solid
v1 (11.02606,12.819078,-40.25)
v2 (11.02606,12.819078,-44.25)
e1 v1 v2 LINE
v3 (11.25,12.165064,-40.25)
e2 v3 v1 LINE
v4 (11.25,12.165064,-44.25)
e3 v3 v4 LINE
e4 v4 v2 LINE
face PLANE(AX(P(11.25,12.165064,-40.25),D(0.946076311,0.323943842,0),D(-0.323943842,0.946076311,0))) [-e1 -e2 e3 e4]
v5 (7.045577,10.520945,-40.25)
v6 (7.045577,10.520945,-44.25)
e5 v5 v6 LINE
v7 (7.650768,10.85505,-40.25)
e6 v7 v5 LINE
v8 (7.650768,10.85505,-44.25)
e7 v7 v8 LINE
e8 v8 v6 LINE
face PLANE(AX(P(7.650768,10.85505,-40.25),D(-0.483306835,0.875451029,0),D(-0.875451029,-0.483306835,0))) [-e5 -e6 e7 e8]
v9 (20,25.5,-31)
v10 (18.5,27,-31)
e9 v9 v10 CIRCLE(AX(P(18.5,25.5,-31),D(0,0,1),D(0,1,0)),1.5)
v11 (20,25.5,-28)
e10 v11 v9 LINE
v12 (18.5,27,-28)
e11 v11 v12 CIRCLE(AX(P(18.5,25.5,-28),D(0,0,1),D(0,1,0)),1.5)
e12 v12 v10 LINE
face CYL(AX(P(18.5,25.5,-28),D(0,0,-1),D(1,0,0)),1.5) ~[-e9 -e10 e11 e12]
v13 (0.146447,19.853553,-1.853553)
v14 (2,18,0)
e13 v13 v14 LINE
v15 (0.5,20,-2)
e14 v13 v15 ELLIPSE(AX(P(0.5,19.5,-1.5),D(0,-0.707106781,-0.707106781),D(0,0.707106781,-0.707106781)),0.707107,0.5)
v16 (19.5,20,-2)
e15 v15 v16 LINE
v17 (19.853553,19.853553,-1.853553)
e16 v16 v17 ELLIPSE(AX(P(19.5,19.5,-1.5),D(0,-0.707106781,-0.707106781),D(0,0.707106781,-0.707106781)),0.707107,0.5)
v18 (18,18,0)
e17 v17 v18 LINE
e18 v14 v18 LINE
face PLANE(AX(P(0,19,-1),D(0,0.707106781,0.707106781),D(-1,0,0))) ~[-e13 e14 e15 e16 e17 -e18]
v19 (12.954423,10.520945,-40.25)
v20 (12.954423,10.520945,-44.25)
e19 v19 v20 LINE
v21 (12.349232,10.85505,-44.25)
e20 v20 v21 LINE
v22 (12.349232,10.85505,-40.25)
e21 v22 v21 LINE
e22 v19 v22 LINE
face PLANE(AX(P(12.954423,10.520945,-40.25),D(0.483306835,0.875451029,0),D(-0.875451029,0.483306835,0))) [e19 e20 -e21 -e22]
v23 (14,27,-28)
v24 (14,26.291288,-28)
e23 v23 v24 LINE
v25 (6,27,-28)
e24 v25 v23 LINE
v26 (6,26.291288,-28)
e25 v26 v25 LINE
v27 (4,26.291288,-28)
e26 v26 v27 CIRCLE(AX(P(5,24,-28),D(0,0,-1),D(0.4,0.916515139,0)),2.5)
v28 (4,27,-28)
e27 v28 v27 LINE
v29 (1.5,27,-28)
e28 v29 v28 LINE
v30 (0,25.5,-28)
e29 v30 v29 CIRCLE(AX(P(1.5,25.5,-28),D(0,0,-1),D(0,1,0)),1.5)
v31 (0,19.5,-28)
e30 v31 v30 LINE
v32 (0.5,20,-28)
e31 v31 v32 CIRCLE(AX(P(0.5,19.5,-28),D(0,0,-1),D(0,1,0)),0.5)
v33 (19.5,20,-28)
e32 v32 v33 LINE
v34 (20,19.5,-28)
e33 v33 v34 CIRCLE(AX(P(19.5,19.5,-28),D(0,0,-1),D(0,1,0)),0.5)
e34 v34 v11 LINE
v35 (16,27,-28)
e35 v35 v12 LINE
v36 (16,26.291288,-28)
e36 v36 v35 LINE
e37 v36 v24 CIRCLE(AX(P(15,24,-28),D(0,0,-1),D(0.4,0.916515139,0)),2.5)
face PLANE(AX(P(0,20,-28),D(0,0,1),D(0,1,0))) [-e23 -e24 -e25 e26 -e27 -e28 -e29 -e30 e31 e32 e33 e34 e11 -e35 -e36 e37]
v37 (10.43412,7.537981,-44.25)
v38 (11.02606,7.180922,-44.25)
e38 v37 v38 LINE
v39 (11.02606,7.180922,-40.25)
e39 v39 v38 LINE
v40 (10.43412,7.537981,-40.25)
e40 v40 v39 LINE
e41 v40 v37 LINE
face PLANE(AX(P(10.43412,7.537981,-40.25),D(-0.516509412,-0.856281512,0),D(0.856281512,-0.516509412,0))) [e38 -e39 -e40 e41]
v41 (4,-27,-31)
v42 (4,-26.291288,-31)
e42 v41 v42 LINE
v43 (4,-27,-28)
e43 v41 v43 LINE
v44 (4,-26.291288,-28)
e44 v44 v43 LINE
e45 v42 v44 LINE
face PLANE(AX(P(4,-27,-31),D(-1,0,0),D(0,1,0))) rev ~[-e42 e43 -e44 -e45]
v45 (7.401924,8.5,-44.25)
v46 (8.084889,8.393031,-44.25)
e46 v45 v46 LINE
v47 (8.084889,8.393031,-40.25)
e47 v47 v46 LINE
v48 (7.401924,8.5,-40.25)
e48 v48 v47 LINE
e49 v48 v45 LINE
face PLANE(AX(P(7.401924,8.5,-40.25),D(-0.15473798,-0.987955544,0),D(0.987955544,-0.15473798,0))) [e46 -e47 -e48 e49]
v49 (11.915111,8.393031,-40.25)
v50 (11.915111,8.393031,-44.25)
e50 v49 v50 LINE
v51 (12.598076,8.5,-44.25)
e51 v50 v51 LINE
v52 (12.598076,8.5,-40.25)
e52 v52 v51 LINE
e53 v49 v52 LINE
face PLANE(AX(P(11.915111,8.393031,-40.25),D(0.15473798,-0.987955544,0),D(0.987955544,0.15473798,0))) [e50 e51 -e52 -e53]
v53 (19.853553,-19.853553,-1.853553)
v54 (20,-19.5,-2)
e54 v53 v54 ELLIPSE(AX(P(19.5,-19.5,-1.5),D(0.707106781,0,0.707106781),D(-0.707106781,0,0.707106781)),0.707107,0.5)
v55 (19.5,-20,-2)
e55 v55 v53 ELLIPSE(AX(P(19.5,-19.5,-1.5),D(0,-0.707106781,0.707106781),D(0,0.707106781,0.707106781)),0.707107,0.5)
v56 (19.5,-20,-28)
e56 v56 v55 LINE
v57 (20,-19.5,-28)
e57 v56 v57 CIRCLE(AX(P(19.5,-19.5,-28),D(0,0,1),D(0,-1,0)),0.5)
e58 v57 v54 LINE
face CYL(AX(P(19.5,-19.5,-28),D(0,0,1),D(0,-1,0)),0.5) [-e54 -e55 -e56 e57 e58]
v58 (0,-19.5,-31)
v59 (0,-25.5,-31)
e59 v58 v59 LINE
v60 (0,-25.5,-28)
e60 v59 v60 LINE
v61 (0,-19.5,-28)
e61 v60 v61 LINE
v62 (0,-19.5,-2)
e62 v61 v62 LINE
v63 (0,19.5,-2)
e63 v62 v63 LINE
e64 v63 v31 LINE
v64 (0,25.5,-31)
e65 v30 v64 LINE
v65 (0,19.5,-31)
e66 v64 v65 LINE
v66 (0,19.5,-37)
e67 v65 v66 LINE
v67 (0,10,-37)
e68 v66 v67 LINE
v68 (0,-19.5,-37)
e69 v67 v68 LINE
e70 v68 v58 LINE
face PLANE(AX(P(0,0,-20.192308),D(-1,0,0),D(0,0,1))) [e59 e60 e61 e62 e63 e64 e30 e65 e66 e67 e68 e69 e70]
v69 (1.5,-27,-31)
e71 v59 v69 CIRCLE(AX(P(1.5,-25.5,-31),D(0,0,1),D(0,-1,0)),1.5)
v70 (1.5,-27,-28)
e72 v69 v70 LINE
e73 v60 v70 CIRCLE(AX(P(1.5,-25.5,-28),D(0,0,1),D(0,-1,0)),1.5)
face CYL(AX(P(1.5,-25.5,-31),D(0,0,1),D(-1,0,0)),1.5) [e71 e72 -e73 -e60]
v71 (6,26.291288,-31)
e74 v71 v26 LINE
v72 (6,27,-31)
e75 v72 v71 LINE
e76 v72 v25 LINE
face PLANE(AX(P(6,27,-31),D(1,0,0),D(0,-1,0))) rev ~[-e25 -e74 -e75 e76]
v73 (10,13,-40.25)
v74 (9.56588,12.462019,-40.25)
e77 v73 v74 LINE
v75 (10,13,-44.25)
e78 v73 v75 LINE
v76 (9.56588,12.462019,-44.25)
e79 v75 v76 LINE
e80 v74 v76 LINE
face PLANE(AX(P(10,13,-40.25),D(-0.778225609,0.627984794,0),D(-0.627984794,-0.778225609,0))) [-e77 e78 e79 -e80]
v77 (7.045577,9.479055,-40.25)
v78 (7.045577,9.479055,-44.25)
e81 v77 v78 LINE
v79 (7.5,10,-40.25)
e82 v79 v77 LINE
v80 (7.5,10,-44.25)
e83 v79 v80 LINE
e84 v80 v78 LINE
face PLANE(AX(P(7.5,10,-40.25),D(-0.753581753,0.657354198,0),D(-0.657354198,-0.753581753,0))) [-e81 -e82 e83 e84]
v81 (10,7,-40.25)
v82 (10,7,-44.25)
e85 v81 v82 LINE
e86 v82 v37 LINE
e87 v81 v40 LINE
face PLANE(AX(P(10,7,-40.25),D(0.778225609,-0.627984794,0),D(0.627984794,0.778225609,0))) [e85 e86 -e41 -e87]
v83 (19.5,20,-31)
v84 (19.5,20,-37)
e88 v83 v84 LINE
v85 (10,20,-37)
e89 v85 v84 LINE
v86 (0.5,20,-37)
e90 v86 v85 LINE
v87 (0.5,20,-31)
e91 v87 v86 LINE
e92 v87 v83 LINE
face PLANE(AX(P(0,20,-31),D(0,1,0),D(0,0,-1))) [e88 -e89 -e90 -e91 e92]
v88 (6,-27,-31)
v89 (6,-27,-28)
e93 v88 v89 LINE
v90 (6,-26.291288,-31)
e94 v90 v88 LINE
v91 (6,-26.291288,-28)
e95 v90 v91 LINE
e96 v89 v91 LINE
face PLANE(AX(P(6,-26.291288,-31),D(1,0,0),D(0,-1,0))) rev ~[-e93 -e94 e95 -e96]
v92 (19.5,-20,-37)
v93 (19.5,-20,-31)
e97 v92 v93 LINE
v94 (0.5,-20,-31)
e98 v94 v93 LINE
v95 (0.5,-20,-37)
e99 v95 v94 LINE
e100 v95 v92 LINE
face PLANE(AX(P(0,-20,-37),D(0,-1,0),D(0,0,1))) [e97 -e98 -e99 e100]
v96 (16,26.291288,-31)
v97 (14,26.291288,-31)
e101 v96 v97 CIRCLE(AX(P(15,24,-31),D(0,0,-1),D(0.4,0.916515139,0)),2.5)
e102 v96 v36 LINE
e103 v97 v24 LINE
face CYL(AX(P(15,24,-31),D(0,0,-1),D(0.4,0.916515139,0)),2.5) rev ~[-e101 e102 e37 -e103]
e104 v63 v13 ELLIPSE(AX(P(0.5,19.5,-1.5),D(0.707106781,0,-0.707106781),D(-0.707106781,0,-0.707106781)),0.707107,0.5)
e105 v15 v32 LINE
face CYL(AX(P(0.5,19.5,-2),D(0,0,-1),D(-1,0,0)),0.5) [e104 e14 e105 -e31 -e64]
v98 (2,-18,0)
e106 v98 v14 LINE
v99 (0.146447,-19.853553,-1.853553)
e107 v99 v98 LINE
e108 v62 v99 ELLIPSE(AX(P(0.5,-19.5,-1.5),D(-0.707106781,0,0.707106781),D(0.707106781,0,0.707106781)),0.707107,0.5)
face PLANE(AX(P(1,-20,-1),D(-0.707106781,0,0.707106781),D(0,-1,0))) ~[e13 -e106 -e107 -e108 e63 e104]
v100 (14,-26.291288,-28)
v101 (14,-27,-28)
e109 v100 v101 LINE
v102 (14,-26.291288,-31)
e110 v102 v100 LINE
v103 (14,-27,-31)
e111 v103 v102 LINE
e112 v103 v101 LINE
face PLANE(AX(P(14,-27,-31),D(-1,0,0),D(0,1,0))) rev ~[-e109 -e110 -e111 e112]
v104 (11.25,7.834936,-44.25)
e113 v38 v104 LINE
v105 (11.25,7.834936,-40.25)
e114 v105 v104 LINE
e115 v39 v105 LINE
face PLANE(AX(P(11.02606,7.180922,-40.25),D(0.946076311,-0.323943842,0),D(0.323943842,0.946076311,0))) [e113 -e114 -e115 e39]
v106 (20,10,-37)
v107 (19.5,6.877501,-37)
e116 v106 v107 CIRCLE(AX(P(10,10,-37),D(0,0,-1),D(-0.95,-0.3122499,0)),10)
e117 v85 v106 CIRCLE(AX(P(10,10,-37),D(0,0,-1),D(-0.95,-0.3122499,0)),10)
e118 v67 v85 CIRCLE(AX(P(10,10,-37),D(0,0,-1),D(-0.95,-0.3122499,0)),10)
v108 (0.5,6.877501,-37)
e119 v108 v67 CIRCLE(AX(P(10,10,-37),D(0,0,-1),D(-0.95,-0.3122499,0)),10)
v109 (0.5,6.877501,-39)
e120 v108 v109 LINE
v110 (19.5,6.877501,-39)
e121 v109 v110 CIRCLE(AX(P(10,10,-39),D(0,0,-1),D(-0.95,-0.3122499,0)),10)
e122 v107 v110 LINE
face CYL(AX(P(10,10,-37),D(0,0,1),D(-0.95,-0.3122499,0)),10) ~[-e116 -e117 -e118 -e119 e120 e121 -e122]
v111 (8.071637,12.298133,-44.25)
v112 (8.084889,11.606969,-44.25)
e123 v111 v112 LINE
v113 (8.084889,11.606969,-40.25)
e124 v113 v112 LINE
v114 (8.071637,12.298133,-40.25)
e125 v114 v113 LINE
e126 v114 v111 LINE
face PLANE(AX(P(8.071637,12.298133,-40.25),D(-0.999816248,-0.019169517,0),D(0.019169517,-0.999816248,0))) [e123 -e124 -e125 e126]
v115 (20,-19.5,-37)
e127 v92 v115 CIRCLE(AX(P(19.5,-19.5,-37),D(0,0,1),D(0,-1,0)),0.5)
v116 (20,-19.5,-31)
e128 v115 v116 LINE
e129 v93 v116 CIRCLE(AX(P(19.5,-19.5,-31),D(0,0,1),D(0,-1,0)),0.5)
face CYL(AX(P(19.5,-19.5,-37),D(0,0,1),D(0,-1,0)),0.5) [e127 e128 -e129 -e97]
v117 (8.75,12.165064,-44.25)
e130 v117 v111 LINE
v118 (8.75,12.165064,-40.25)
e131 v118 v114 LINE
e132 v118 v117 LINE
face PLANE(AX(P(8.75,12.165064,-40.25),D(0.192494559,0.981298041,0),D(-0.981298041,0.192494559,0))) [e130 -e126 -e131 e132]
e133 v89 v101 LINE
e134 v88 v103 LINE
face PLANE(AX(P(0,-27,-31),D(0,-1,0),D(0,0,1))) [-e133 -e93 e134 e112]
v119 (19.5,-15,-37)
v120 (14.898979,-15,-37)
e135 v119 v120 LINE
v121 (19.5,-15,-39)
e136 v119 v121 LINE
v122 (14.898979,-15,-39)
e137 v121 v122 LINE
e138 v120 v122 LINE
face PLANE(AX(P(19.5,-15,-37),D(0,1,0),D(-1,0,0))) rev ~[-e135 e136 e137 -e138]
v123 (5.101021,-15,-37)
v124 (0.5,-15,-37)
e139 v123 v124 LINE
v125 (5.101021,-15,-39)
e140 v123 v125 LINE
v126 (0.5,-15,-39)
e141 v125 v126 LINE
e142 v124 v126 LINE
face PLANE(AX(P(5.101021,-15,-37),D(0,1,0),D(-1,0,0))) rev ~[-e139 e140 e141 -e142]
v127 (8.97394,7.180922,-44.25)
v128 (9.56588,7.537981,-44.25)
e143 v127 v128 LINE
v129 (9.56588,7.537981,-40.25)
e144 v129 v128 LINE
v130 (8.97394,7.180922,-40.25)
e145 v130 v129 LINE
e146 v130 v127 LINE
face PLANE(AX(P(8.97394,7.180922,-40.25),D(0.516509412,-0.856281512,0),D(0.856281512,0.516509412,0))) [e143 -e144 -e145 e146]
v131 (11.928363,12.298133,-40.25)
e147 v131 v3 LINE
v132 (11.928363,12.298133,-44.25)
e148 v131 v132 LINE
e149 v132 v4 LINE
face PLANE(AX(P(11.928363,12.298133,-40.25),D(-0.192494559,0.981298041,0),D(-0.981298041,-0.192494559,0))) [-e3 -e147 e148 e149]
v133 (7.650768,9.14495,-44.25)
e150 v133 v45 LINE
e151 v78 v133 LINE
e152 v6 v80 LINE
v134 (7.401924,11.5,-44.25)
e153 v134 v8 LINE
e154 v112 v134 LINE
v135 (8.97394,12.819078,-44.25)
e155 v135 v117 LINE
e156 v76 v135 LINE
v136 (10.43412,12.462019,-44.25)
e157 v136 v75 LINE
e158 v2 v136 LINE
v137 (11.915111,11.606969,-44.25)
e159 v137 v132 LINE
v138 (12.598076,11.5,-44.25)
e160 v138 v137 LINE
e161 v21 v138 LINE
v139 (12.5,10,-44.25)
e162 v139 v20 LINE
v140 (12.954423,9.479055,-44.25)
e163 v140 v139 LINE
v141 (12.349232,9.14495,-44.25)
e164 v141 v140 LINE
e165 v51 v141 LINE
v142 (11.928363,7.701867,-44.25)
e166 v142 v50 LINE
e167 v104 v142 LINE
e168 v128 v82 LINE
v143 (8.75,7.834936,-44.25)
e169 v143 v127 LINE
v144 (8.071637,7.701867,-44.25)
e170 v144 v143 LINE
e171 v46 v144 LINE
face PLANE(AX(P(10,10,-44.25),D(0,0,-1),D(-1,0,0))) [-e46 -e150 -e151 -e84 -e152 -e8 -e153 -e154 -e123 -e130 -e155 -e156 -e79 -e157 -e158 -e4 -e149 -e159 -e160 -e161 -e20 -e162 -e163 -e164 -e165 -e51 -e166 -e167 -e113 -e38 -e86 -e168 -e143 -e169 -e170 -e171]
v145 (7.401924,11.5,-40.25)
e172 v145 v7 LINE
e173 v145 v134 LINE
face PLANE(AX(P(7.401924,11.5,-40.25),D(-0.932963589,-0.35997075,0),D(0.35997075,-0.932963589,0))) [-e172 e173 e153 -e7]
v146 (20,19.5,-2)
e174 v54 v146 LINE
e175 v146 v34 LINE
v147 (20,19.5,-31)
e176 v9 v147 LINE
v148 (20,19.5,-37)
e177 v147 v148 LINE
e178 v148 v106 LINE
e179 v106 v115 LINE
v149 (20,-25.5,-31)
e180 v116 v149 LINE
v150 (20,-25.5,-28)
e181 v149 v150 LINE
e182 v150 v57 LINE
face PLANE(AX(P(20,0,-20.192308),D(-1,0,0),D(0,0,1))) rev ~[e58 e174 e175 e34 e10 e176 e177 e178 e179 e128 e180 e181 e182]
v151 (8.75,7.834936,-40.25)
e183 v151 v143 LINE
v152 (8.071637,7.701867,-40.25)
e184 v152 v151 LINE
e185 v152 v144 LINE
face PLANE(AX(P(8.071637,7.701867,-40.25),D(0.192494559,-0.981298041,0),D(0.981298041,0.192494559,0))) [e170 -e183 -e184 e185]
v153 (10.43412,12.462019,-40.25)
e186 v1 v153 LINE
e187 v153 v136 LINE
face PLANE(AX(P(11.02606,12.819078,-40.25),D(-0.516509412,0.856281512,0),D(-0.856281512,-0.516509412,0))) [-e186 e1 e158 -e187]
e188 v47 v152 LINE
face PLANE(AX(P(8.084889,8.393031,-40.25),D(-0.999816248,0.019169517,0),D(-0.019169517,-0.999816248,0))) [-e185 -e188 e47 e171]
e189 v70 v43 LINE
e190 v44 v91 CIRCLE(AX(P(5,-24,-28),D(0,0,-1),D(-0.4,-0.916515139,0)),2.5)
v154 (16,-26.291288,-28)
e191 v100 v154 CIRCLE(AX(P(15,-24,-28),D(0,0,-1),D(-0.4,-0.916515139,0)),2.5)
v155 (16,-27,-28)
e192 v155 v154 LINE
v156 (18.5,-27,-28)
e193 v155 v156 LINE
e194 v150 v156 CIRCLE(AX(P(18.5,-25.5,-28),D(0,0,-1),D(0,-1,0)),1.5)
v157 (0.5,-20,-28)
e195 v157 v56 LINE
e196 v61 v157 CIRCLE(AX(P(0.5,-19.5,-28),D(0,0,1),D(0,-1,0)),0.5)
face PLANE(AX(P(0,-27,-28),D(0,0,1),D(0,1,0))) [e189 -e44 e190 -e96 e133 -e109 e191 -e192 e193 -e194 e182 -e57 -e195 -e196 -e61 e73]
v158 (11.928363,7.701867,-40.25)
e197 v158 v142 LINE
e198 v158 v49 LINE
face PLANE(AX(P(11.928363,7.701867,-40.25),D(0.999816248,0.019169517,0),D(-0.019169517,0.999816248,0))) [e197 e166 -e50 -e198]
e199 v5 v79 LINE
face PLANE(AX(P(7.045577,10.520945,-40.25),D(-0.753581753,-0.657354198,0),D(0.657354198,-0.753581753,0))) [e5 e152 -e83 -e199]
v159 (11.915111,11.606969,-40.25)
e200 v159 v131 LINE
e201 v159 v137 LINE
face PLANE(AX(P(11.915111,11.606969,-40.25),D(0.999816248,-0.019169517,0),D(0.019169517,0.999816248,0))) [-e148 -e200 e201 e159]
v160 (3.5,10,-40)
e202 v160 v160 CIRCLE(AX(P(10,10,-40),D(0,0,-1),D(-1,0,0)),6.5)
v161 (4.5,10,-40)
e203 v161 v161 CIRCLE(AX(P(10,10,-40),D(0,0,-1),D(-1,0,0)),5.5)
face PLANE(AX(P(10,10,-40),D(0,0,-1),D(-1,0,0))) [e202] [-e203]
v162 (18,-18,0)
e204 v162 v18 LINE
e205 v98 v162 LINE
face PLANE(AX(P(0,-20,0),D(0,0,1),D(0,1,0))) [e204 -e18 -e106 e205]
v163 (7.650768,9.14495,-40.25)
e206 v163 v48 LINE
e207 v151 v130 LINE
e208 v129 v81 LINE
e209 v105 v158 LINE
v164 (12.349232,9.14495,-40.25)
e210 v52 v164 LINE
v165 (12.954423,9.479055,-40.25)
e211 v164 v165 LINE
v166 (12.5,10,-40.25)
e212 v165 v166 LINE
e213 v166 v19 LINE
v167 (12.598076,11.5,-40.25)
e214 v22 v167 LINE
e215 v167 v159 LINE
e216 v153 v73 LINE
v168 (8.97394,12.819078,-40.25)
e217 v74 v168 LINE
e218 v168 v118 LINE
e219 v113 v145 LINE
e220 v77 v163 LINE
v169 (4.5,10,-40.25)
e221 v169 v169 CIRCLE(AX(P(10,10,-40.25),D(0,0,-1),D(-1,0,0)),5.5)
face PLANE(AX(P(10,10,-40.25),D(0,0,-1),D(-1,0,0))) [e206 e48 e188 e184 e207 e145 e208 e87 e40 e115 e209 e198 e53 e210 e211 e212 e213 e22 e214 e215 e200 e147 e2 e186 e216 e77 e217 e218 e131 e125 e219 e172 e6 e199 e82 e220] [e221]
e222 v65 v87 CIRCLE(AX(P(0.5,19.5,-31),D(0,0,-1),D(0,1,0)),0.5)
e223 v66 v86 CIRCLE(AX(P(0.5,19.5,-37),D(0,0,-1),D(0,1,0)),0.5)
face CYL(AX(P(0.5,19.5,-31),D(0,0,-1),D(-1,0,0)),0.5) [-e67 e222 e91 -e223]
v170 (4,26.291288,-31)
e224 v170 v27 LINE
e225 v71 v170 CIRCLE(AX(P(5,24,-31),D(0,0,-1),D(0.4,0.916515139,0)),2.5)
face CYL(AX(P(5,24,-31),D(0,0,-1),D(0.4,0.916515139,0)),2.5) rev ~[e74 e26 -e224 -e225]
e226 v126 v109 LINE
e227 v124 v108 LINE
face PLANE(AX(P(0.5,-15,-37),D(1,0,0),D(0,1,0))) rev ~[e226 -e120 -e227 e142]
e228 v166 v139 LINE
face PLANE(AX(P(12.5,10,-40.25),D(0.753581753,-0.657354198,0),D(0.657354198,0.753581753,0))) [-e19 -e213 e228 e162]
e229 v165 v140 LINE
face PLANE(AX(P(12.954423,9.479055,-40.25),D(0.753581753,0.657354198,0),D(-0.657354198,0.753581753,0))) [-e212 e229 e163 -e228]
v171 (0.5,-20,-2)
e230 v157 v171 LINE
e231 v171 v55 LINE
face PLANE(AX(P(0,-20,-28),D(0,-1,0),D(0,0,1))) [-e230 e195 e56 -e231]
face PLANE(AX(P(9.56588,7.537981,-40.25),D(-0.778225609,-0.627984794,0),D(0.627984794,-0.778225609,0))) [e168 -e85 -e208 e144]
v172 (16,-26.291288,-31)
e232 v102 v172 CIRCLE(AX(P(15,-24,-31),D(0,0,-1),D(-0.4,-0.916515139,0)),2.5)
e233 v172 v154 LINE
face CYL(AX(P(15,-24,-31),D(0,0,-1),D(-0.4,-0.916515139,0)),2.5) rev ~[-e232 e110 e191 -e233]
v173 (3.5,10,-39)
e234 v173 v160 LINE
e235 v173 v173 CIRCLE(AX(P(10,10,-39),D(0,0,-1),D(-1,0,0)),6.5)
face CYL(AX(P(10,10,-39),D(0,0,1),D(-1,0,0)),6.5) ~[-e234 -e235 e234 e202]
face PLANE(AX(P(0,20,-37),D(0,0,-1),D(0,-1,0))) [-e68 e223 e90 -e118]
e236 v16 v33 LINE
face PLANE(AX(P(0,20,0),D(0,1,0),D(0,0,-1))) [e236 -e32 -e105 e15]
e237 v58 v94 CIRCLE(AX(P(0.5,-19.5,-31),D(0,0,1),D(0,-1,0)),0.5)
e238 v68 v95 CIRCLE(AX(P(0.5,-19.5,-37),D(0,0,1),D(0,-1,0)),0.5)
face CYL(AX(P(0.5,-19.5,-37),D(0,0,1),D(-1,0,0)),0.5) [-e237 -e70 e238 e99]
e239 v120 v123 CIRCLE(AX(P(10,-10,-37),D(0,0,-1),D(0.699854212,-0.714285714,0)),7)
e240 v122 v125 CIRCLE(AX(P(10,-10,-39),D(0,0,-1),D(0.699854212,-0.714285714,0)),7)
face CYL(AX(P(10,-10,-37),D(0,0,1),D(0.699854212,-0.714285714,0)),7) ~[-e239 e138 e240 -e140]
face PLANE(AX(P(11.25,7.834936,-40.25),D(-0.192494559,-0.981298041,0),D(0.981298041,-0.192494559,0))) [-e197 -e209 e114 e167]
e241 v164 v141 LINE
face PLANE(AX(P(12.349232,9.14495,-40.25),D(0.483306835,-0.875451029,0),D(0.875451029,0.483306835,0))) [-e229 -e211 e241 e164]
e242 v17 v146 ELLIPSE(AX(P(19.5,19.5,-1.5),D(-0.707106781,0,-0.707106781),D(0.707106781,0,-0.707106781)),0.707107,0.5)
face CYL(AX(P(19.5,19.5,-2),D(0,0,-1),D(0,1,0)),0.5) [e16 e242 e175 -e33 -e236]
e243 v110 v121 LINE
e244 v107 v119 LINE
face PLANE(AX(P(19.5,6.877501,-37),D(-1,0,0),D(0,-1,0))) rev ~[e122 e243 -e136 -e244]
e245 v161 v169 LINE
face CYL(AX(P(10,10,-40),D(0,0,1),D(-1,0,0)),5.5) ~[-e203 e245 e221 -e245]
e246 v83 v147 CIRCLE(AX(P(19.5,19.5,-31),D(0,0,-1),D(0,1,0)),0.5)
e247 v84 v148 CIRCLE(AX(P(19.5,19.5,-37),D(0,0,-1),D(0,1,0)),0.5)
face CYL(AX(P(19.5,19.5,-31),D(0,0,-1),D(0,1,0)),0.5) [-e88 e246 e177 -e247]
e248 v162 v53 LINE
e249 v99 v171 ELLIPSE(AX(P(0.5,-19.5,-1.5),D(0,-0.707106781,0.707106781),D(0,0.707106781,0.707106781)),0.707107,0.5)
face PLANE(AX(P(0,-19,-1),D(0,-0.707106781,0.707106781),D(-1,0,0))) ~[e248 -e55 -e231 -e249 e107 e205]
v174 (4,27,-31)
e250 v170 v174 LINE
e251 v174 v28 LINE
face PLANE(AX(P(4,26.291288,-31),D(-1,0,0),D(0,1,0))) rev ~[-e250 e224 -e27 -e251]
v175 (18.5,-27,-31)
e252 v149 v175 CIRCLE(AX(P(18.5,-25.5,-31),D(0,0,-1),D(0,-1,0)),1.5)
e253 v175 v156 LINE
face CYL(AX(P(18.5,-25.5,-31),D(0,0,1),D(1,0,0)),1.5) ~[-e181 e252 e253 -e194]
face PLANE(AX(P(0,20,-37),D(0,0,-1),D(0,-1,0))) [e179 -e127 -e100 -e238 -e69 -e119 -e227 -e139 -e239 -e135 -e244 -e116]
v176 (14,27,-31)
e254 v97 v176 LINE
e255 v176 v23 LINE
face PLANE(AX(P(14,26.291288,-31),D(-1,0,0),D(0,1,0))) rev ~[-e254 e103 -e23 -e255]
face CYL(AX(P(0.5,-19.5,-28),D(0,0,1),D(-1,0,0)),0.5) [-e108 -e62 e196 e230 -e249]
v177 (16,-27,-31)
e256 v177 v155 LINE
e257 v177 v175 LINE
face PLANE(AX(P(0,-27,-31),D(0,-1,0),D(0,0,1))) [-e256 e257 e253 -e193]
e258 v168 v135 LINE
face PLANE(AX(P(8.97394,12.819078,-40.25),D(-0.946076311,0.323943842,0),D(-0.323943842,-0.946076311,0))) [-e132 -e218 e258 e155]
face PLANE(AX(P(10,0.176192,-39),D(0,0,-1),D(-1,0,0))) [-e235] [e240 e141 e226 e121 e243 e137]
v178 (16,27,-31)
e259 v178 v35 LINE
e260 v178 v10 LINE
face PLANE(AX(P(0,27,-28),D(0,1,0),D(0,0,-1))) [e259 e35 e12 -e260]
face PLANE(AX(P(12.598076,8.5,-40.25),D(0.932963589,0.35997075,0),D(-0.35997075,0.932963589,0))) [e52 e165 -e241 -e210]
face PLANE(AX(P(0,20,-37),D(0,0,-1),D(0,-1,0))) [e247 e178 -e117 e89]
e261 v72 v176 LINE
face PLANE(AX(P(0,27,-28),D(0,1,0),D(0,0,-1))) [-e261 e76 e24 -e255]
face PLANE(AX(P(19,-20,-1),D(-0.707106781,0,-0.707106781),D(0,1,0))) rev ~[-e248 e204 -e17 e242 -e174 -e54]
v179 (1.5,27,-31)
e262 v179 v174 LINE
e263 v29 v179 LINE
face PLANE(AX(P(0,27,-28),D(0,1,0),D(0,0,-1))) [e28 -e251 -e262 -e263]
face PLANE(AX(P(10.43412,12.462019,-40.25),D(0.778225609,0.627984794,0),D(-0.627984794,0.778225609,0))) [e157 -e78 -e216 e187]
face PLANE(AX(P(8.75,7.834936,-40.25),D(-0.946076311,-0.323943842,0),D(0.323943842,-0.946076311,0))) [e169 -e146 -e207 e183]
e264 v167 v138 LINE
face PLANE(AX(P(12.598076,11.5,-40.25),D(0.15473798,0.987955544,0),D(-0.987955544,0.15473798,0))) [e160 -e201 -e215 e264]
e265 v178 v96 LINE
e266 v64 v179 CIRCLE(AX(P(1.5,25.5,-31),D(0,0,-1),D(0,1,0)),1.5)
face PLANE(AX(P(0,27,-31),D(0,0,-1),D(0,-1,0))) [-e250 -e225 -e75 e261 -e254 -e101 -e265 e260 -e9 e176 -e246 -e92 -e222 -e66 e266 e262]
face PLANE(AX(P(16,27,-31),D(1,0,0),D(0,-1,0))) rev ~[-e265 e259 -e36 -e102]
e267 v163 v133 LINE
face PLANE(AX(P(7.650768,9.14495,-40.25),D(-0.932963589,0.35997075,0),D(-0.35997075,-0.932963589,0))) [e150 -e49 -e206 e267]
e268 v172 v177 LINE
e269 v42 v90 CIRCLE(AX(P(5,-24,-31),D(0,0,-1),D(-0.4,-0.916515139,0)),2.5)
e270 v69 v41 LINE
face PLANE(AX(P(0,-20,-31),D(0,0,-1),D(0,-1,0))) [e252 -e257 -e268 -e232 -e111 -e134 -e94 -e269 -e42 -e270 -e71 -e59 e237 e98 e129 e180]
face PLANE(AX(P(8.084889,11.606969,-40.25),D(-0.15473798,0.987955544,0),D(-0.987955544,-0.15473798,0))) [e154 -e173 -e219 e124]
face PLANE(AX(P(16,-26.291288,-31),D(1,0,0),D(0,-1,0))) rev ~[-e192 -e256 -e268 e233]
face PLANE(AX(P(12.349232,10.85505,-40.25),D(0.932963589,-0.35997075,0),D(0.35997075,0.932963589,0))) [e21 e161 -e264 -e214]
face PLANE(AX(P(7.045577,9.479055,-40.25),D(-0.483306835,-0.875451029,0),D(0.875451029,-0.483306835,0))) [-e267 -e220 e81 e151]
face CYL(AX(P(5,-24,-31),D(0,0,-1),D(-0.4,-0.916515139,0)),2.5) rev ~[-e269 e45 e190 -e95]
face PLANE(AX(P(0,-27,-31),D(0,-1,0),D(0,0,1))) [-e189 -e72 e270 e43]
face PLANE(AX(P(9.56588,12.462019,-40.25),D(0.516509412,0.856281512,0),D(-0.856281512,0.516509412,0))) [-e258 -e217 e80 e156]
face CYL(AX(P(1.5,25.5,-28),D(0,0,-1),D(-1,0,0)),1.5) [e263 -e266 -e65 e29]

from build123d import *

# Parameters (mm, degrees)
BOSS_EXTRU_1_DEPTH      = 20
BOSS_EXTRU_2_DEPTH      = 2
ESQUISSE3_R             = 6.5
BOSS_EXTRU_3_DEPTH      = 1
ESQUISSE4_R             = 5.5
BOSS_EXTRU_4_DEPTH      = 0.25
ESQUISSE5_R             = 3
BOSS_EXTRU_5_DEPTH      = 4
ENL_V_START             = -4
ENL_V_MAT_EXTRU_1_DEPTH = 4
ENL_V_MAT_EXTRU_2_DEPTH = 46.716517803
CONG_1_R                = 1.5
CHANFREIN1_SIZE         = 2
CONG_2_R                = 0.5


with BuildPart() as part:
    # Esquisse1 → Boss.-Extru.1 (new body)
    with BuildSketch(Plane(origin=(0, 0, 0), x_dir=(0, 0, -1), z_dir=(1, 0, 0))):
        Polygon((0, -20), (0, 20), (28, 20), (28, 27), (31, 27), (31, 20), (37, 20), (37, -20), (31, -20), (31, -27), (28, -27), (28, -20), align=None)
    extrude(amount=BOSS_EXTRU_1_DEPTH)

    # Esquisse2 → Boss.-Extru.2 (add)
    with BuildSketch(Plane(origin=(0, 0, -37), x_dir=(-1, 0, 0), z_dir=(0, 0, -1))):
        with BuildLine():
            ThreePointArc((-0.5, 6.877501001), (-10, 20), (-19.5, 6.877501001))
            Line((-19.5, 6.877501001), (-19.5, -15))
            Line((-19.5, -15), (-14.898979486, -15))
            ThreePointArc((-14.898979486, -15), (-10, -17), (-5.101020514, -15))
            Line((-5.101020514, -15), (-0.5, -15))
            Line((-0.5, -15), (-0.5, 6.877501001))
        make_face()
    extrude(amount=BOSS_EXTRU_2_DEPTH)

    # Esquisse3 → Boss.-Extru.3 (add)
    with BuildSketch(Plane(origin=(0, 0, -39), x_dir=(-1, 0, 0), z_dir=(0, 0, -1))):
        with Locations((-10, 10)):
            Circle(ESQUISSE3_R)
    extrude(amount=BOSS_EXTRU_3_DEPTH)

    # Esquisse4 → Boss.-Extru.4 (add)
    with BuildSketch(Plane(origin=(0, 0, -40), x_dir=(-1, 0, 0), z_dir=(0, 0, -1))):
        with Locations((-10, 10)):
            Circle(ESQUISSE4_R)
    extrude(amount=BOSS_EXTRU_4_DEPTH)

    # Esquisse5 → Boss.-Extru.5 (add)
    with BuildSketch(Plane(origin=(0, 0, -40.25), x_dir=(-1, 0, 0), z_dir=(0, 0, -1))):
        with Locations((-10, 10)):
            Circle(ESQUISSE5_R)
    extrude(amount=BOSS_EXTRU_5_DEPTH)

    # Esquisse6 → Enlèv. mat.-Extru.1 (cut)
    with BuildSketch(Plane(origin=(0, 0, -44.25), x_dir=(-1, 0, 0), z_dir=(0, 0, -1)).offset(ENL_V_START)):
        with BuildLine():
            ThreePointArc((-8.97393957, 12.819077862), (-9.479055467, 12.954423259), (-10, 13))
            Line((-10, 13), (-9.565879556, 12.462019383))
            Line((-9.565879556, 12.462019383), (-8.97393957, 12.819077862))
        make_face()
        with BuildLine():
            Line((-10.434120444, 12.462019383), (-10, 13))
            ThreePointArc((-10, 13), (-10.520944533, 12.954423259), (-11.02606043, 12.819077862))
            Line((-11.02606043, 12.819077862), (-10.434120444, 12.462019383))
        make_face()
        with BuildLine():
            ThreePointArc((-8.071637171, 12.298133329), (-8.5, 12.598076211), (-8.97393957, 12.819077862))
            Line((-8.97393957, 12.819077862), (-8.75, 12.165063509))
            Line((-8.75, 12.165063509), (-8.071637171, 12.298133329))
        make_face()
        with BuildLine():
            Line((-11.25, 12.165063509), (-11.02606043, 12.819077862))
            ThreePointArc((-11.02606043, 12.819077862), (-11.5, 12.598076211), (-11.928362829, 12.298133329))
            Line((-11.928362829, 12.298133329), (-11.25, 12.165063509))
        make_face()
        with BuildLine():
            ThreePointArc((-7.401923789, 11.5), (-7.701866671, 11.928362829), (-8.071637171, 12.298133329))
            Line((-8.071637171, 12.298133329), (-8.084888892, 11.606969024))
            Line((-8.084888892, 11.606969024), (-7.401923789, 11.5))
        make_face()
        with BuildLine():
            Line((-11.915111108, 11.606969024), (-11.928362829, 12.298133329))
            ThreePointArc((-11.928362829, 12.298133329), (-12.298133329, 11.928362829), (-12.598076211, 11.5))
            Line((-12.598076211, 11.5), (-11.915111108, 11.606969024))
        make_face()
        with BuildLine():
            ThreePointArc((-7.045576741, 10.520944533), (-7.180922138, 11.02606043), (-7.401923789, 11.5))
            Line((-7.401923789, 11.5), (-7.650768448, 10.855050358))
            Line((-7.650768448, 10.855050358), (-7.045576741, 10.520944533))
        make_face()
        with BuildLine():
            Line((-12.349231552, 10.855050358), (-12.598076211, 11.5))
            ThreePointArc((-12.598076211, 11.5), (-12.819077862, 11.02606043), (-12.954423259, 10.520944533))
            Line((-12.954423259, 10.520944533), (-12.349231552, 10.855050358))
        make_face()
        with BuildLine():
            ThreePointArc((-7.045576741, 9.479055467), (-7, 10), (-7.045576741, 10.520944533))
            Line((-7.045576741, 10.520944533), (-7.5, 10))
            Line((-7.5, 10), (-7.045576741, 9.479055467))
        make_face()
        with BuildLine():
            Line((-12.5, 10), (-12.954423259, 10.520944533))
            ThreePointArc((-12.954423259, 10.520944533), (-13, 10), (-12.954423259, 9.479055467))
            Line((-12.954423259, 9.479055467), (-12.5, 10))
        make_face()
        with BuildLine():
            Line((-12.349231552, 9.144949642), (-12.954423259, 9.479055467))
            ThreePointArc((-12.954423259, 9.479055467), (-12.819077862, 8.97393957), (-12.598076211, 8.5))
            Line((-12.598076211, 8.5), (-12.349231552, 9.144949642))
        make_face()
        with BuildLine():
            ThreePointArc((-7.401923789, 8.5), (-7.180922138, 8.97393957), (-7.045576741, 9.479055467))
            Line((-7.045576741, 9.479055467), (-7.650768448, 9.144949642))
            Line((-7.650768448, 9.144949642), (-7.401923789, 8.5))
        make_face()
        with BuildLine():
            Line((-11.915111108, 8.393030976), (-12.598076211, 8.5))
            ThreePointArc((-12.598076211, 8.5), (-12.298133329, 8.071637171), (-11.928362829, 7.701866671))
            Line((-11.928362829, 7.701866671), (-11.915111108, 8.393030976))
        make_face()
        with BuildLine():
            ThreePointArc((-8.071637171, 7.701866671), (-7.701866671, 8.071637171), (-7.401923789, 8.5))
            Line((-7.401923789, 8.5), (-8.084888892, 8.393030976))
            Line((-8.084888892, 8.393030976), (-8.071637171, 7.701866671))
        make_face()
        with BuildLine():
            Line((-11.25, 7.834936491), (-11.928362829, 7.701866671))
            ThreePointArc((-11.928362829, 7.701866671), (-11.5, 7.401923789), (-11.02606043, 7.180922138))
            Line((-11.02606043, 7.180922138), (-11.25, 7.834936491))
        make_face()
        with BuildLine():
            ThreePointArc((-8.97393957, 7.180922138), (-8.5, 7.401923789), (-8.071637171, 7.701866671))
            Line((-8.071637171, 7.701866671), (-8.75, 7.834936491))
            Line((-8.75, 7.834936491), (-8.97393957, 7.180922138))
        make_face()
        with BuildLine():
            Line((-10.434120444, 7.537980617), (-11.02606043, 7.180922138))
            ThreePointArc((-11.02606043, 7.180922138), (-10.520944533, 7.045576741), (-10, 7))
            Line((-10, 7), (-10.434120444, 7.537980617))
        make_face()
        with BuildLine():
            ThreePointArc((-10, 7), (-9.479055467, 7.045576741), (-8.97393957, 7.180922138))
            Line((-8.97393957, 7.180922138), (-9.565879556, 7.537980617))
            Line((-9.565879556, 7.537980617), (-10, 7))
        make_face()
    extrude(amount=ENL_V_MAT_EXTRU_1_DEPTH, mode=Mode.SUBTRACT)

    # Esquisse7 → Enlèv. mat.-Extru.2 (cut, through all)
    with BuildSketch(Plane(origin=(0, 0, -31), x_dir=(-1, 0, 0), z_dir=(0, 0, -1))):
        with BuildLine():
            Line((-4, 27), (-6, 27))
            Line((-6, 27), (-6, 26.291287847))
            ThreePointArc((-6, 26.291287847), (-5, 21.5), (-4, 26.291287847))
            Line((-4, 26.291287847), (-4, 27))
        make_face()
        with BuildLine():
            Line((-14, 26.291287847), (-14, 27))
            Line((-14, 27), (-16, 27))
            Line((-16, 27), (-16, 26.291287847))
            ThreePointArc((-16, 26.291287847), (-15, 21.5), (-14, 26.291287847))
        make_face()
        with BuildLine():
            Line((-6, -27), (-4, -27))
            Line((-4, -27), (-4, -26.291287847))
            ThreePointArc((-4, -26.291287847), (-5, -21.5), (-6, -26.291287847))
            Line((-6, -26.291287847), (-6, -27))
        make_face()
        with BuildLine():
            Line((-16, -27), (-14, -27))
            Line((-14, -27), (-14, -26.291287847))
            ThreePointArc((-14, -26.291287847), (-15, -21.5), (-16, -26.291287847))
            Line((-16, -26.291287847), (-16, -27))
        make_face()
    extrude(amount=-ENL_V_MAT_EXTRU_2_DEPTH, mode=Mode.SUBTRACT)

    # Congé1
    cong_1_edges = [part.edges().sort_by_distance(p)[0] for p in [
        (0, -27, -29.5),
        (0, 27, -29.5),
        (20, 27, -29.5),
        (20, -27, -29.5),
    ]]
    fillet(cong_1_edges, radius=CONG_1_R)

    # Chanfrein1
    chanfrein1_edges = [part.edges().sort_by_distance(p)[0] for p in [
        (0, 0, 0),
        (10, -20, 0),
        (10, 20, 0),
        (20, 0, 0),
    ]]
    chamfer(chanfrein1_edges, length=CHANFREIN1_SIZE)

    # Congé2
    cong_2_edges = [part.edges().sort_by_distance(p)[0] for p in [
        (20, 20, -34),
        (0, 20, -15),
        (0, 20, -34),
        (0, -20, -34),
        (20, 20, -15),
        (20, -20, -15),
        (0, -20, -15),
        (20, -20, -34),
    ]]
    fillet(cong_2_edges, radius=CONG_2_R)


solid = part.part
